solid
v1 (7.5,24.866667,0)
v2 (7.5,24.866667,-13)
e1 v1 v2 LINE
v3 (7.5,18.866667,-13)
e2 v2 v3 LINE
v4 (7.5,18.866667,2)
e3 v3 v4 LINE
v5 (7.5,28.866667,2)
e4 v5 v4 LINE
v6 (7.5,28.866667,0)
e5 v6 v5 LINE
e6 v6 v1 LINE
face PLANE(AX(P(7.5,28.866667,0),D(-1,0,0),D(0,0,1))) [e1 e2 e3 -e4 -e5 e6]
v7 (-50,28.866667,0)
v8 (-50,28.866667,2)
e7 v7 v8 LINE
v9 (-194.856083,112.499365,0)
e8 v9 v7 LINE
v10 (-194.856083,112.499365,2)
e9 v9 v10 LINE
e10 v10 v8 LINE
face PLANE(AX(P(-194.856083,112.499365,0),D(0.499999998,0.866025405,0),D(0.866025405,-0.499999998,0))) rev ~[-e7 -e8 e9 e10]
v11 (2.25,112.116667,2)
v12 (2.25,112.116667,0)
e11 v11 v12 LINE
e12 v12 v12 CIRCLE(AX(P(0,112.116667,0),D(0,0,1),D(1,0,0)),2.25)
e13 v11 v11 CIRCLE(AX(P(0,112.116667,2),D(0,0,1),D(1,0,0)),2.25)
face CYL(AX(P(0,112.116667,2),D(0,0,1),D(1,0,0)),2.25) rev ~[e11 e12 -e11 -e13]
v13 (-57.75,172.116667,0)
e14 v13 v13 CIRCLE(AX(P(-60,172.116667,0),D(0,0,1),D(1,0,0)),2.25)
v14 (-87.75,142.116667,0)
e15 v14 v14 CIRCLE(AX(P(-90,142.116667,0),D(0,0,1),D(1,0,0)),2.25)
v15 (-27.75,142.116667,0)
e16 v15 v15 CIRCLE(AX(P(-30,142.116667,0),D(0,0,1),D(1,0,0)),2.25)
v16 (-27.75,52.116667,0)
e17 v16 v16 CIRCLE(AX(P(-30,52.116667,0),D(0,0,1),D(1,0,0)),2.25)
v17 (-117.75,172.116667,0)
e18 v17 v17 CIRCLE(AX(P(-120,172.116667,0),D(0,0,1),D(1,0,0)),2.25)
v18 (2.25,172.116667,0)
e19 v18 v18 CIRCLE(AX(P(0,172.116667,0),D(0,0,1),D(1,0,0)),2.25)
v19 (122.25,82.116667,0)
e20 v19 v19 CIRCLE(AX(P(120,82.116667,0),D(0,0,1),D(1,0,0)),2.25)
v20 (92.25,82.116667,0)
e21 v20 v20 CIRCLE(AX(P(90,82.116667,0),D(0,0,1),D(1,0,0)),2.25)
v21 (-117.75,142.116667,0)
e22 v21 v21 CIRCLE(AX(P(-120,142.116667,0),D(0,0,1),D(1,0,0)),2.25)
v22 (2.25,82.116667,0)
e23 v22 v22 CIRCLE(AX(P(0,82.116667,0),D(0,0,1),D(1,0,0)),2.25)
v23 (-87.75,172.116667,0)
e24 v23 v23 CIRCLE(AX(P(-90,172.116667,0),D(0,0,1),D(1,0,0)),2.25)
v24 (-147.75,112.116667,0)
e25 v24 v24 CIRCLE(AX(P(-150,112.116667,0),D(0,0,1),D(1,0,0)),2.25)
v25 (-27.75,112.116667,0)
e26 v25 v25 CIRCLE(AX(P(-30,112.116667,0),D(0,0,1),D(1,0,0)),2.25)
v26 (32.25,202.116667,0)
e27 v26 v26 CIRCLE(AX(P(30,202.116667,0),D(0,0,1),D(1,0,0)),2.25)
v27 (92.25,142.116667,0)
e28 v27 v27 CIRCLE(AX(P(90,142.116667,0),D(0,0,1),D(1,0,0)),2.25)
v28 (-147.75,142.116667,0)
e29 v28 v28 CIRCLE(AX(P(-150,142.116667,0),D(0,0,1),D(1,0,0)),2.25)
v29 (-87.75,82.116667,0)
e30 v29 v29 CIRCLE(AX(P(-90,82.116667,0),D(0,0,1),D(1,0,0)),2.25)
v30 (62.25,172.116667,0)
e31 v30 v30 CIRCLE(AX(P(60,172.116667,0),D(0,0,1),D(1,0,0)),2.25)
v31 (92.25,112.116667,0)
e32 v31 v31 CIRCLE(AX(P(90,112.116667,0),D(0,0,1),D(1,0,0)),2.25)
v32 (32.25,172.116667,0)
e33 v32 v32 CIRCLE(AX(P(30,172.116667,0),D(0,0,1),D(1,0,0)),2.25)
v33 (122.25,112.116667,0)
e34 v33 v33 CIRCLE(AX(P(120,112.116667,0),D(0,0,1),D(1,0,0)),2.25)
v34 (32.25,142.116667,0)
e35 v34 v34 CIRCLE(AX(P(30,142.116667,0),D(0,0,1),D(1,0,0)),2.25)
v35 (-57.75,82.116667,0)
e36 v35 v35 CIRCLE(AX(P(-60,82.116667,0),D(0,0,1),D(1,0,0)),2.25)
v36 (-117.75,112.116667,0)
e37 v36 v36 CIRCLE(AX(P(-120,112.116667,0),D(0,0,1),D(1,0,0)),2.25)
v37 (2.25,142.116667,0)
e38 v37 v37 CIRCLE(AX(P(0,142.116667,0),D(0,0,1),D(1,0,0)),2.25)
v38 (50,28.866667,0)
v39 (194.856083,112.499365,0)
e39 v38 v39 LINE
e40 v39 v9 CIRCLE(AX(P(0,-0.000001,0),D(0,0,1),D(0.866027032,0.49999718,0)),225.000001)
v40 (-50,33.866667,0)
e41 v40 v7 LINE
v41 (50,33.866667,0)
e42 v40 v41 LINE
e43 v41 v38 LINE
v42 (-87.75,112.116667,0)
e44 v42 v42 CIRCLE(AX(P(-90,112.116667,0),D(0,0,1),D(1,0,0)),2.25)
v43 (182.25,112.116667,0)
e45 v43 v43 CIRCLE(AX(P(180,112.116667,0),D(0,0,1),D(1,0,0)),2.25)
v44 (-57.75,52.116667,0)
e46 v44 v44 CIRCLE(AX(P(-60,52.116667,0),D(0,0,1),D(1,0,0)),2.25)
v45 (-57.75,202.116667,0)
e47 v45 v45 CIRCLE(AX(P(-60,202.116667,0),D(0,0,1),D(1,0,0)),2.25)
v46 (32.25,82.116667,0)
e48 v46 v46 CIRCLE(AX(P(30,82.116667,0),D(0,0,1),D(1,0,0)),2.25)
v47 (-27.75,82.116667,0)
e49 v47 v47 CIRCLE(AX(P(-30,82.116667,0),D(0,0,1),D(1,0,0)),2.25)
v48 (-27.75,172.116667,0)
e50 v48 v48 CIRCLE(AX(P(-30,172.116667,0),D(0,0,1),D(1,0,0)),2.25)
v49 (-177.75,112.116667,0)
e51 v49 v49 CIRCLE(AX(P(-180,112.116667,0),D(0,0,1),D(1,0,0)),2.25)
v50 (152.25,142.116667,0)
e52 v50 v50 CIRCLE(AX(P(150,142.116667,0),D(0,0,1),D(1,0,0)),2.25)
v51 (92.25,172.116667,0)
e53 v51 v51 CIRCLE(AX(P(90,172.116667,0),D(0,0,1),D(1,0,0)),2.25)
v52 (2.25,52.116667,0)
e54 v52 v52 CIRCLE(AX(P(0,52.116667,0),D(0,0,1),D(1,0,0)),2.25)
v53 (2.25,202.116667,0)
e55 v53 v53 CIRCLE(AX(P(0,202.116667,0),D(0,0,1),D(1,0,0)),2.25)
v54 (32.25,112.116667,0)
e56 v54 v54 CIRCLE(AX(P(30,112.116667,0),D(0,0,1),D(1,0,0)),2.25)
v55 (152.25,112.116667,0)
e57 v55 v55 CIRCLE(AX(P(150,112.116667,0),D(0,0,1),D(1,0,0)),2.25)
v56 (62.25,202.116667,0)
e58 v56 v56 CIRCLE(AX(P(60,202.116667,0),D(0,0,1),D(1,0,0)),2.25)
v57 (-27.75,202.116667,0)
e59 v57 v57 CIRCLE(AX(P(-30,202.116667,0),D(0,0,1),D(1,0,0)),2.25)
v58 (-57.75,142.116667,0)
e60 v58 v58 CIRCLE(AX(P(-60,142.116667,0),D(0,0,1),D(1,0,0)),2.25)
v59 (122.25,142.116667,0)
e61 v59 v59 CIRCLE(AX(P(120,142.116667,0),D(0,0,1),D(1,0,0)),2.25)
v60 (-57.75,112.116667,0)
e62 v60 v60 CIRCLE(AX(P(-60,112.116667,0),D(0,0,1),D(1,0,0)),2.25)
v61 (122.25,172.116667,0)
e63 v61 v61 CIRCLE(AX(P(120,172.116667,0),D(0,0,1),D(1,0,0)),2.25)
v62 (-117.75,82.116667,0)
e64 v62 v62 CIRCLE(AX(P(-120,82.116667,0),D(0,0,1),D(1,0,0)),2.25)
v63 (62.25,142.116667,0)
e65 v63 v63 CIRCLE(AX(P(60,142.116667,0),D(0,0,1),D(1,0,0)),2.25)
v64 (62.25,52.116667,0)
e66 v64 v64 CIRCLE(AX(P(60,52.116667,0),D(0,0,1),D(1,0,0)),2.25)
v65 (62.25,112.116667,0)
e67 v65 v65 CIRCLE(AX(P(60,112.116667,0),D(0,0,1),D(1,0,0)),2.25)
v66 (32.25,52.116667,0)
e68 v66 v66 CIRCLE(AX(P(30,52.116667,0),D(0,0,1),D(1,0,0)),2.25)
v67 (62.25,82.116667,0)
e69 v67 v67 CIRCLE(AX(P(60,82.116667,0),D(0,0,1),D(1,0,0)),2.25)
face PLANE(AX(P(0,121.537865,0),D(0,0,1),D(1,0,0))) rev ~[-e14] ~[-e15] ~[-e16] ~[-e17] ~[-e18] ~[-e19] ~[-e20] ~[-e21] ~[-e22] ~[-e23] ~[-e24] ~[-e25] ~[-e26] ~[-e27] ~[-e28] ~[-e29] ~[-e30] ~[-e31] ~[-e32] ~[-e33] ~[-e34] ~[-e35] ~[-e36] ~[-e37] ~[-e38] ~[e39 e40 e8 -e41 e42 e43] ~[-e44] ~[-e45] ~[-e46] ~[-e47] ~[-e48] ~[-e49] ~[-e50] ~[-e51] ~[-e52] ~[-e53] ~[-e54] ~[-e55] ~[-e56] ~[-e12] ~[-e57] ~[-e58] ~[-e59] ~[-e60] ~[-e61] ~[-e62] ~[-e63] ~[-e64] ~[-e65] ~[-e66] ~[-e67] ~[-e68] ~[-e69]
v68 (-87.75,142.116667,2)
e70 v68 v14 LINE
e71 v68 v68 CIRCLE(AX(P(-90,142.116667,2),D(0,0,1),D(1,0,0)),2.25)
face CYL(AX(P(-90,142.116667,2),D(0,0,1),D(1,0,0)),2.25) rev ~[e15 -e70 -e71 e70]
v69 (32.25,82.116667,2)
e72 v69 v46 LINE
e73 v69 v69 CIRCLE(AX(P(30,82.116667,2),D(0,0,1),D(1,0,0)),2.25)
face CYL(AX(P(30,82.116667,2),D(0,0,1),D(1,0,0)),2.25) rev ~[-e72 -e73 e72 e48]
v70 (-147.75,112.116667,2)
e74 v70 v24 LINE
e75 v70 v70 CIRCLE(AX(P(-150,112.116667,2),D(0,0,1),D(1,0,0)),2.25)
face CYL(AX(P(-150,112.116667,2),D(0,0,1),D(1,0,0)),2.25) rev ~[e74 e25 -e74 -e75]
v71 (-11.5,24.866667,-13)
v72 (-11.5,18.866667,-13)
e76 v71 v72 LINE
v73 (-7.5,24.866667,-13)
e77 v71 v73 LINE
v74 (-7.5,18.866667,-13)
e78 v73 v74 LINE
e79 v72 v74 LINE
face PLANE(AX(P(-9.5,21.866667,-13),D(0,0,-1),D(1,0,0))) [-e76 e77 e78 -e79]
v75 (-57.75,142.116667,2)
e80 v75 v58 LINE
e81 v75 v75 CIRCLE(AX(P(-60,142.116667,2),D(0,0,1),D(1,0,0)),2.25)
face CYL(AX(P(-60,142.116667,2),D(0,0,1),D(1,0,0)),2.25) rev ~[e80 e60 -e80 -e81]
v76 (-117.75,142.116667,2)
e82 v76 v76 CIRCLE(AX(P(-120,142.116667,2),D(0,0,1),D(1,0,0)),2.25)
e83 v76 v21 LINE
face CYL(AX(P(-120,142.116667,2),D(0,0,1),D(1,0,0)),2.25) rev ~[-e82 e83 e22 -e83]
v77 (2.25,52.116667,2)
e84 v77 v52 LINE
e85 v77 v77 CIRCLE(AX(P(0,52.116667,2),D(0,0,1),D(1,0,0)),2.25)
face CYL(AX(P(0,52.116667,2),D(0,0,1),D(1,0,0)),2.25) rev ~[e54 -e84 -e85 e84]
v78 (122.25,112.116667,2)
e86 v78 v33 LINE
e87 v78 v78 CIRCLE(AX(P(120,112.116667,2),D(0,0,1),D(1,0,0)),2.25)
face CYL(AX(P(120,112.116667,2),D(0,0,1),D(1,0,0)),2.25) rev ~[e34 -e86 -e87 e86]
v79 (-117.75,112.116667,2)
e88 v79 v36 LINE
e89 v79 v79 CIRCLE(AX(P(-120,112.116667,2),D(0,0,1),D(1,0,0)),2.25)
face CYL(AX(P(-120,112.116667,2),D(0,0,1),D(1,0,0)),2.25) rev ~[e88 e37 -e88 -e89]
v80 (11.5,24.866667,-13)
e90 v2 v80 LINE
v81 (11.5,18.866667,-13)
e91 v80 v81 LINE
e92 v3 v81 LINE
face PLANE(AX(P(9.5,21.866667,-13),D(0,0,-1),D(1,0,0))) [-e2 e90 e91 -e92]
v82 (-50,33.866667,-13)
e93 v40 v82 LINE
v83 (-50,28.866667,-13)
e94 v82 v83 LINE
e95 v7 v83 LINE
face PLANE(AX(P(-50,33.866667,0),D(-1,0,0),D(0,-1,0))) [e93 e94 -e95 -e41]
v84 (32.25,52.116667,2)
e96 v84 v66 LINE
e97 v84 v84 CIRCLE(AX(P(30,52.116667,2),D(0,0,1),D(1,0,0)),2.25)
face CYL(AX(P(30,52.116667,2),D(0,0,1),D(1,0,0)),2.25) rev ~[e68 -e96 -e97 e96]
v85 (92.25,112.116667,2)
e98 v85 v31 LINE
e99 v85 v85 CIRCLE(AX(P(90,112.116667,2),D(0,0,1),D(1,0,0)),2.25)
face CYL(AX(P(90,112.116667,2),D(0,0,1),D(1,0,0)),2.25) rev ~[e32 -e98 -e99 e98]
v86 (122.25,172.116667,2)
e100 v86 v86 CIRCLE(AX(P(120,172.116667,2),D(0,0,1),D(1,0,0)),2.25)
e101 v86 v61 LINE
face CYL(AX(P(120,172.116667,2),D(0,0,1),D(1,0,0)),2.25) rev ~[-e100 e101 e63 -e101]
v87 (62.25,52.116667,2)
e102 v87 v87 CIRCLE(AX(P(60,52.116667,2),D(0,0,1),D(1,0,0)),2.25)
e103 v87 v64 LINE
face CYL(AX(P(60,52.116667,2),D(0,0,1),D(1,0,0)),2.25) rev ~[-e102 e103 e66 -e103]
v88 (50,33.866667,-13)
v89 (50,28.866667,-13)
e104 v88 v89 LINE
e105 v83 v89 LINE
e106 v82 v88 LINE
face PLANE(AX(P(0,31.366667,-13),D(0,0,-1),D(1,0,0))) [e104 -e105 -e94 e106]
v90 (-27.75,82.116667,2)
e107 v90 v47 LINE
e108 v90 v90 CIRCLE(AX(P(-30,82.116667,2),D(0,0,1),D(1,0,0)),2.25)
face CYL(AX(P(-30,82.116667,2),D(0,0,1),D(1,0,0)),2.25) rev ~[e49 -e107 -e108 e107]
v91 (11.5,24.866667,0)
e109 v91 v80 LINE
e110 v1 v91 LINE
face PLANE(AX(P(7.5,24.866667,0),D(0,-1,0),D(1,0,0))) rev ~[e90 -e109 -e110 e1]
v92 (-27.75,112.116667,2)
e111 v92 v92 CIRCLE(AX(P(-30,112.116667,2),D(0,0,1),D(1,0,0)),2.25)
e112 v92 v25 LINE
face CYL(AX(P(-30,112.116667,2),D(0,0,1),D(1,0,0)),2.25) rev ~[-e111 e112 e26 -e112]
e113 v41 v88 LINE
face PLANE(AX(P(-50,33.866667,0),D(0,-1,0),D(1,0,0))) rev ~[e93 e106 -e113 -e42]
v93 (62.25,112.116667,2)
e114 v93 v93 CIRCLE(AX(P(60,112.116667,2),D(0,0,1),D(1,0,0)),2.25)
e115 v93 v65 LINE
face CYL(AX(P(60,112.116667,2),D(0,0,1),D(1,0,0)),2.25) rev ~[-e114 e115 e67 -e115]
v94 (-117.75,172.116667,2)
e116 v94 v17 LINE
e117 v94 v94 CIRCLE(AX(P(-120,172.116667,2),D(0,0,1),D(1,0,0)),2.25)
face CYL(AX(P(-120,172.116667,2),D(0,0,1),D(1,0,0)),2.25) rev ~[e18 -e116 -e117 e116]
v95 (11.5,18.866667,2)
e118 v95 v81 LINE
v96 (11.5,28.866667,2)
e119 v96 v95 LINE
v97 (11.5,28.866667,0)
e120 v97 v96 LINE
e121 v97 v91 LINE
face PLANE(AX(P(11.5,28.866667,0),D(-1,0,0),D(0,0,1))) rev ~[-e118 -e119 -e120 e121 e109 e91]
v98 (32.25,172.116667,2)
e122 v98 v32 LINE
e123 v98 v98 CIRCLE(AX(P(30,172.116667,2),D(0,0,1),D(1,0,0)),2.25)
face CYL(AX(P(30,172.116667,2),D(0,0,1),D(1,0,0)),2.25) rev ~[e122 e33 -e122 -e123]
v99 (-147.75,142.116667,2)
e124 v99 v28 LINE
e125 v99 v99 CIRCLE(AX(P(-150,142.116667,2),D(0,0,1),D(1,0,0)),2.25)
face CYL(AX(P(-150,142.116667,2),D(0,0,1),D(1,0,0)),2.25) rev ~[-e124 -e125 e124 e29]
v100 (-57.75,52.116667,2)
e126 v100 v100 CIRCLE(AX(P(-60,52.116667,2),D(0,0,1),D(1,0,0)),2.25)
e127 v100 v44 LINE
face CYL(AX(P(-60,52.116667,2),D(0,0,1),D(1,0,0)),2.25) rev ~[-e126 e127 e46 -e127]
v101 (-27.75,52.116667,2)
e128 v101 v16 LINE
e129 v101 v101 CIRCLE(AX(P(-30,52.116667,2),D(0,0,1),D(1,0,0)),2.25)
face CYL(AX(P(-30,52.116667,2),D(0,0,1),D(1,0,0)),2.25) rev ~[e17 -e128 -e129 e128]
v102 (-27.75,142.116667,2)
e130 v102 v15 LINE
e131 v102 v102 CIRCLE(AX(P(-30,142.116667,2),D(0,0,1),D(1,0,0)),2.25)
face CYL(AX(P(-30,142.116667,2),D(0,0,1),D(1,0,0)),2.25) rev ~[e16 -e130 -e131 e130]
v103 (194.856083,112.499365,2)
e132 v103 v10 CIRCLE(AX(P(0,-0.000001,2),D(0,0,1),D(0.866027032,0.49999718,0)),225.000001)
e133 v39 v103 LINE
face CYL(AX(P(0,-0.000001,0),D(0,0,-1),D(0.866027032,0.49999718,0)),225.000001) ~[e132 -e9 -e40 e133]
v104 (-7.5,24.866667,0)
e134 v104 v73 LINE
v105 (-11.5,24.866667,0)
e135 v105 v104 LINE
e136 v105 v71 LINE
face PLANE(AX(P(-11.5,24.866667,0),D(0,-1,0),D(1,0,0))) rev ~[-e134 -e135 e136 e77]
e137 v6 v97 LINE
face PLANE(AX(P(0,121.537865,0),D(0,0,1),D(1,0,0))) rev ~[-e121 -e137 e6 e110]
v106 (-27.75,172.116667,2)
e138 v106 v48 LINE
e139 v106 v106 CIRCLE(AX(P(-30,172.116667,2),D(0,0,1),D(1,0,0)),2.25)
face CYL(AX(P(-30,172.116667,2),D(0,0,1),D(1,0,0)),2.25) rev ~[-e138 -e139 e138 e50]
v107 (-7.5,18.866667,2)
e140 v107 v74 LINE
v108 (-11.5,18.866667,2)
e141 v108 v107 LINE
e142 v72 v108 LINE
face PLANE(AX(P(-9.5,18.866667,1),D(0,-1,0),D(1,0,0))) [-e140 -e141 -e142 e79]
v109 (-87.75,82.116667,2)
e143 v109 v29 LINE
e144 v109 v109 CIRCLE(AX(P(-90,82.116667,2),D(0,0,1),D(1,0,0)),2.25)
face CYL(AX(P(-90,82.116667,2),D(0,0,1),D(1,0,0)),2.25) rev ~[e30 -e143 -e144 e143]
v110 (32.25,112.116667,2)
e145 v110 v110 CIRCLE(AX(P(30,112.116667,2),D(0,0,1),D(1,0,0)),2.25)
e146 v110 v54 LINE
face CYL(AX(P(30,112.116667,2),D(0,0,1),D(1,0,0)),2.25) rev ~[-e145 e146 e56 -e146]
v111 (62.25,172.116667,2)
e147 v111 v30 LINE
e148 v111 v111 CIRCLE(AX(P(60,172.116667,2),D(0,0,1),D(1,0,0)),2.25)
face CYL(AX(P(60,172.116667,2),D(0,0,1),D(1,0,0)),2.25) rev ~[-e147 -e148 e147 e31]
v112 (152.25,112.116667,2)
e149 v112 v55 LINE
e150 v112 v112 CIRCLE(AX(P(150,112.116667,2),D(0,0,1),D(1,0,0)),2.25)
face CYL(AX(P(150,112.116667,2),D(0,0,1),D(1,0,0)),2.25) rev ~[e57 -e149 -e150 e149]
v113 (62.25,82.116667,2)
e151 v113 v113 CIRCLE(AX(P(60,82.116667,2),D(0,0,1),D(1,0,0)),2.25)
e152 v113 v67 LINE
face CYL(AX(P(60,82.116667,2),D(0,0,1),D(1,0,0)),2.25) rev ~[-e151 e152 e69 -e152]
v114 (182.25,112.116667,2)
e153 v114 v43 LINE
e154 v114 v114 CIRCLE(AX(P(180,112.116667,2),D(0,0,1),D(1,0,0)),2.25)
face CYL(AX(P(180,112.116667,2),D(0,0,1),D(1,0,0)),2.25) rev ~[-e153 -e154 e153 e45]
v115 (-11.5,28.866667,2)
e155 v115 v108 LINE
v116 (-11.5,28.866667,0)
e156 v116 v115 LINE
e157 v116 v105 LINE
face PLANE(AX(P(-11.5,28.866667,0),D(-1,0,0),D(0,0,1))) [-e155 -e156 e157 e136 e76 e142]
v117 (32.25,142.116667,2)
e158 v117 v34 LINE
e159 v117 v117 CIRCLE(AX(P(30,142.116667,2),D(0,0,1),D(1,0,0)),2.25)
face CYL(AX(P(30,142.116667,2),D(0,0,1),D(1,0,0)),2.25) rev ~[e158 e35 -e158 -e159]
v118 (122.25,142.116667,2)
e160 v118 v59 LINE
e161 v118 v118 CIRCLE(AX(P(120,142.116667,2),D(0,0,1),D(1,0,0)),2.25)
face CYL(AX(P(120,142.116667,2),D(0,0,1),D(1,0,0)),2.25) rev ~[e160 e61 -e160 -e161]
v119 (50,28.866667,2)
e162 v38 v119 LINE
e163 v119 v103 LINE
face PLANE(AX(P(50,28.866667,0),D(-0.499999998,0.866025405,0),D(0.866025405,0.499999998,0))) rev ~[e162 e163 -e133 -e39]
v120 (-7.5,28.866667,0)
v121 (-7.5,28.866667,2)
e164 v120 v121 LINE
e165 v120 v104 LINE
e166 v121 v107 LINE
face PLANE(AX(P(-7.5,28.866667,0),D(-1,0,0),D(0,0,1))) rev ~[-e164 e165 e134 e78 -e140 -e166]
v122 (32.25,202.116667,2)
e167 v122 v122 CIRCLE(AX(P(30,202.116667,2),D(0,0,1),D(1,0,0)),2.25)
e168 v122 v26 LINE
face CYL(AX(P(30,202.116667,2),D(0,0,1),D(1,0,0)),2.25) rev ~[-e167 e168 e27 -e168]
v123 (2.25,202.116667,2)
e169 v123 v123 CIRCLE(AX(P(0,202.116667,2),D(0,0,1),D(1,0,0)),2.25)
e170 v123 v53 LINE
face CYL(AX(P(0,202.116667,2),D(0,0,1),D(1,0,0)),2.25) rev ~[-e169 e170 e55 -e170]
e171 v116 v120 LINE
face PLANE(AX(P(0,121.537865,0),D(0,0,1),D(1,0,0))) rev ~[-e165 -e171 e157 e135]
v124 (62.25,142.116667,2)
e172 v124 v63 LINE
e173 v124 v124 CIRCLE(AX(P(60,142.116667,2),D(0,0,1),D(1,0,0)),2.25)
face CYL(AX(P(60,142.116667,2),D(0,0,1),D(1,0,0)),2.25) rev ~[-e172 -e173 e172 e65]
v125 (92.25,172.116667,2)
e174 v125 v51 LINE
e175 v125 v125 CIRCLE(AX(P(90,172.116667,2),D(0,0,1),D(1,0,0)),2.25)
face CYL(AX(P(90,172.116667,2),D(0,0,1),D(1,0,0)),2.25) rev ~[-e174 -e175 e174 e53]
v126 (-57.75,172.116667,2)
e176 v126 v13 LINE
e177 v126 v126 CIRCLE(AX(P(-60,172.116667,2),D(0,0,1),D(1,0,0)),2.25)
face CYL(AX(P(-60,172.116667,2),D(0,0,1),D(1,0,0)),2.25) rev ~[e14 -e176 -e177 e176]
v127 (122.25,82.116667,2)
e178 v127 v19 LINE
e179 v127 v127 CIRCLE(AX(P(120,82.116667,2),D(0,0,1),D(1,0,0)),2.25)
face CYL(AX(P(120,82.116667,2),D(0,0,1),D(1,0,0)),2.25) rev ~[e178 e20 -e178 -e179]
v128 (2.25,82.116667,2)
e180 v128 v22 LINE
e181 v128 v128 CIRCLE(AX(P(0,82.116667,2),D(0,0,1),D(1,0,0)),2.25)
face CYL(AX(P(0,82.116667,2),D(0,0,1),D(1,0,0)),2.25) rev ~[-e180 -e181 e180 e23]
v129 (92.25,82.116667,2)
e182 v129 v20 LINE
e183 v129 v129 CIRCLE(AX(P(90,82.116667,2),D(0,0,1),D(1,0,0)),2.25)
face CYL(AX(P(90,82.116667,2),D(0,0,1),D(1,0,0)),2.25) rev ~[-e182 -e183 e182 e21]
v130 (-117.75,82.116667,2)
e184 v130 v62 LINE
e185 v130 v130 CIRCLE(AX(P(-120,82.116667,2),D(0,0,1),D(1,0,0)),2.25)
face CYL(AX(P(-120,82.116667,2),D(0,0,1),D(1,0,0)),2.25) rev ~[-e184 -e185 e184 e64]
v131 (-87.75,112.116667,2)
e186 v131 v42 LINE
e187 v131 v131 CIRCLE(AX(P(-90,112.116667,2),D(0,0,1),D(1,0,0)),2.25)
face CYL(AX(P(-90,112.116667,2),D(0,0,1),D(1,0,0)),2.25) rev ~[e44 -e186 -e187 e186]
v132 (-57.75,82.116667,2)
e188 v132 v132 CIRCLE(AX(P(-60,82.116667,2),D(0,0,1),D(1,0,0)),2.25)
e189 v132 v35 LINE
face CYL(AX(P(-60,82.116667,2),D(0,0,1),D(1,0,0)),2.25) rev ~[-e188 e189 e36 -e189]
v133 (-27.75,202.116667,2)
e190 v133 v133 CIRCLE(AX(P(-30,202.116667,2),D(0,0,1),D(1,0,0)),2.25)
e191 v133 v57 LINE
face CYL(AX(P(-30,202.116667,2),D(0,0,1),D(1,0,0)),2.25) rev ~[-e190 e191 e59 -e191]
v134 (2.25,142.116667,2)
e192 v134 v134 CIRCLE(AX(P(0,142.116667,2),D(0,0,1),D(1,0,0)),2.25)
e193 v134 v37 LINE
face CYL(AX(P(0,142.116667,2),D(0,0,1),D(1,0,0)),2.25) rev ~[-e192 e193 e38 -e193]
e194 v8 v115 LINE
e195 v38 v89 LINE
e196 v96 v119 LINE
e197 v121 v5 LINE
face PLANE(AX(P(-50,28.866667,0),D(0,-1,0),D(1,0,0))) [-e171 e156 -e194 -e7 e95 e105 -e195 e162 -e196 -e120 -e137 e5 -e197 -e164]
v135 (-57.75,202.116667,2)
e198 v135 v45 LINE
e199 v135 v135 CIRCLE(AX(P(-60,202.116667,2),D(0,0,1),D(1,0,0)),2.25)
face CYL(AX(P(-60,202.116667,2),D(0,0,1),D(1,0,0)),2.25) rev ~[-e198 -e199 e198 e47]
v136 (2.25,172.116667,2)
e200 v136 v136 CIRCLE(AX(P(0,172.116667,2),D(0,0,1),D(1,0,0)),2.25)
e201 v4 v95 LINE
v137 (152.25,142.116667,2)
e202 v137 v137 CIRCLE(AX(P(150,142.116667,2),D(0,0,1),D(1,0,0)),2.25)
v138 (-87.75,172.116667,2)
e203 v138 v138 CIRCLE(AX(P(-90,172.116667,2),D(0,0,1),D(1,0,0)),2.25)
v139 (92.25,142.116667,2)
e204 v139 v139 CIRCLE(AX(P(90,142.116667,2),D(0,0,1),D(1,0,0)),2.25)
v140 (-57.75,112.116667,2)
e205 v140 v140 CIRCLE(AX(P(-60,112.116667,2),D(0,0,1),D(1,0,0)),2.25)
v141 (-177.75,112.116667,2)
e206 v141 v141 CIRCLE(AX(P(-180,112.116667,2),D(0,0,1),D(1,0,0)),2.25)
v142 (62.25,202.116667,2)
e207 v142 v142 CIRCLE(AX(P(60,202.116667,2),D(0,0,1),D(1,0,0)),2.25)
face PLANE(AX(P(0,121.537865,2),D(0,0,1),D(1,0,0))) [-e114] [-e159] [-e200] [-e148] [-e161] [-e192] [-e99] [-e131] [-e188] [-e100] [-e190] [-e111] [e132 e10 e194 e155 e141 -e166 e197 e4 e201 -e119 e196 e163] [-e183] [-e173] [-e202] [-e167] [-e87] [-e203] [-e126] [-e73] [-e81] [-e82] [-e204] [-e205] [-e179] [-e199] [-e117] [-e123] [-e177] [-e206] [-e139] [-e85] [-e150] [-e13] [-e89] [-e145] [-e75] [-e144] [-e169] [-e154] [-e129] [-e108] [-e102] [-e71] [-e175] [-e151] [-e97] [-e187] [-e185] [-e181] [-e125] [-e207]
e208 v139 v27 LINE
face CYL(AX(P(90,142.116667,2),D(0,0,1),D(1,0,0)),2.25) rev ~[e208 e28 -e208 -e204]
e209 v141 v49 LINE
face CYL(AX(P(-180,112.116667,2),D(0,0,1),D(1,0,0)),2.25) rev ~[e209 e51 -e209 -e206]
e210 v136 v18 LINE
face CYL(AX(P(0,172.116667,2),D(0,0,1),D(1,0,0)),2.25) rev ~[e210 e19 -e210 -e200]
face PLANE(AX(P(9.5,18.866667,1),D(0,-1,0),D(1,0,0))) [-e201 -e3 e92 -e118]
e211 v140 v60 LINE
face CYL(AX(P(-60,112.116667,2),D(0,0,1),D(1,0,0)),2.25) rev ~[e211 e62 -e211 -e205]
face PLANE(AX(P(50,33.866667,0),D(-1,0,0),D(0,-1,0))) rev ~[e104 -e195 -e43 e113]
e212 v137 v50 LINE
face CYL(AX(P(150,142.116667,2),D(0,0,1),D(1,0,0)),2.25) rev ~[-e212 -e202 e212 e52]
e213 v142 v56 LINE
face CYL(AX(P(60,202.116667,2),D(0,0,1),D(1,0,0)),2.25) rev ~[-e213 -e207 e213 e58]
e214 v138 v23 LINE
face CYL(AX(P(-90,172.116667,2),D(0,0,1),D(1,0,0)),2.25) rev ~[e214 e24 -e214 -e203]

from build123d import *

# Parameters (mm, degrees)
F1_DEPTH = 2
F2_R     = 2.25
F3_DEPTH = 25
F4_W     = 4
F4_H     = 2
F5_DEPTH = 10
F6_W     = 100
F6_H     = 5
F6_W_2   = 4
F6_H_2   = 6
F7_DEPTH = 13


with BuildPart() as f1:
    # F0 (on Top) → F1 (new body)
    with BuildSketch(Plane.XY):
        with BuildLine():
            Line((50, 28.866667), (194.856083, 112.499365))
            ThreePointArc((194.856083, 112.499365), (0, 225), (-194.856083, 112.499365))
            Line((-194.856083, 112.499365), (-50, 28.866667))
            Line((-50, 28.866667), (50, 28.866667))
        make_face()
    extrude(amount=F1_DEPTH)

    # F2 (on face) → F3 (cut)
    with BuildSketch(Plane.XY.offset(2)):
        with Locations((0, 52.116667)):
            Circle(F2_R)
        with Locations((0, 82.116667)):
            Circle(F2_R)
        with Locations((0, 112.116667)):
            Circle(F2_R)
        with Locations((0, 142.116667)):
            Circle(F2_R)
        with Locations((0, 172.116667)):
            Circle(F2_R)
        with Locations((0, 202.116667)):
            Circle(F2_R)
        with Locations((30, 52.116667)):
            Circle(F2_R)
        with Locations((30, 82.116667)):
            Circle(F2_R)
        with Locations((30, 112.116667)):
            Circle(F2_R)
        with Locations((30, 142.116667)):
            Circle(F2_R)
        with Locations((30, 172.116667)):
            Circle(F2_R)
        with Locations((30, 202.116667)):
            Circle(F2_R)
        with Locations((60, 52.116667)):
            Circle(F2_R)
        with Locations((60, 82.116667)):
            Circle(F2_R)
        with Locations((60, 112.116667)):
            Circle(F2_R)
        with Locations((60, 142.116667)):
            Circle(F2_R)
        with Locations((60, 172.116667)):
            Circle(F2_R)
        with Locations((60, 202.116667)):
            Circle(F2_R)
        with Locations((-30, 202.116667)):
            Circle(F2_R)
        with Locations((-30, 172.116667)):
            Circle(F2_R)
        with Locations((-30, 142.116667)):
            Circle(F2_R)
        with Locations((-30, 112.116667)):
            Circle(F2_R)
        with Locations((-30, 82.116667)):
            Circle(F2_R)
        with Locations((-30, 52.116667)):
            Circle(F2_R)
        with Locations((-60, 202.116667)):
            Circle(F2_R)
        with Locations((-60, 172.116667)):
            Circle(F2_R)
        with Locations((-60, 142.116667)):
            Circle(F2_R)
        with Locations((-60, 112.116667)):
            Circle(F2_R)
        with Locations((-60, 82.116667)):
            Circle(F2_R)
        with Locations((-60, 52.116667)):
            Circle(F2_R)
        with Locations((-90, 112.116667)):
            Circle(F2_R)
        with Locations((-90, 82.116667)):
            Circle(F2_R)
        with Locations((-90, 142.116667)):
            Circle(F2_R)
        with Locations((-90, 172.116667)):
            Circle(F2_R)
        with Locations((-120, 112.116667)):
            Circle(F2_R)
        with Locations((-120, 82.116667)):
            Circle(F2_R)
        with Locations((-120, 142.116667)):
            Circle(F2_R)
        with Locations((-120, 172.116667)):
            Circle(F2_R)
        with Locations((90, 112.116667)):
            Circle(F2_R)
        with Locations((90, 82.116667)):
            Circle(F2_R)
        with Locations((90, 142.116667)):
            Circle(F2_R)
        with Locations((90, 172.116667)):
            Circle(F2_R)
        with Locations((120, 112.116667)):
            Circle(F2_R)
        with Locations((120, 82.116667)):
            Circle(F2_R)
        with Locations((120, 142.116667)):
            Circle(F2_R)
        with Locations((120, 172.116667)):
            Circle(F2_R)
        with Locations((-150, 142.116667)):
            Circle(F2_R)
        with Locations((-150, 112.116667)):
            Circle(F2_R)
        with Locations((150, 142.116667)):
            Circle(F2_R)
        with Locations((150, 112.116667)):
            Circle(F2_R)
        with Locations((180, 112.116667)):
            Circle(F2_R)
        with Locations((-180, 112.116667)):
            Circle(F2_R)
    extrude(amount=-F3_DEPTH, mode=Mode.SUBTRACT)

    # F4 (on face) → F5 (join)
    with BuildSketch(Plane.XZ.offset(-28.866667)):
        with Locations((-9.5, 1)):
            Rectangle(F4_W, F4_H)
        with Locations((9.5, 1)):
            Rectangle(F4_W, F4_H)
    extrude(amount=F5_DEPTH)

    # F6 (on face) → F7 (join)
    with BuildSketch(Plane(origin=(0, 0, 0), x_dir=(1, 0, 0), z_dir=(0, 0, -1))):
        with Locations((0, -31.366667)):
            Rectangle(F6_W, F6_H)
        with Locations((-9.5, -21.866667)):
            Rectangle(F6_W_2, F6_H_2)
        with Locations((9.5, -21.866667)):
            Rectangle(F6_W_2, F6_H_2)
    extrude(amount=F7_DEPTH)


solid = f1.part
